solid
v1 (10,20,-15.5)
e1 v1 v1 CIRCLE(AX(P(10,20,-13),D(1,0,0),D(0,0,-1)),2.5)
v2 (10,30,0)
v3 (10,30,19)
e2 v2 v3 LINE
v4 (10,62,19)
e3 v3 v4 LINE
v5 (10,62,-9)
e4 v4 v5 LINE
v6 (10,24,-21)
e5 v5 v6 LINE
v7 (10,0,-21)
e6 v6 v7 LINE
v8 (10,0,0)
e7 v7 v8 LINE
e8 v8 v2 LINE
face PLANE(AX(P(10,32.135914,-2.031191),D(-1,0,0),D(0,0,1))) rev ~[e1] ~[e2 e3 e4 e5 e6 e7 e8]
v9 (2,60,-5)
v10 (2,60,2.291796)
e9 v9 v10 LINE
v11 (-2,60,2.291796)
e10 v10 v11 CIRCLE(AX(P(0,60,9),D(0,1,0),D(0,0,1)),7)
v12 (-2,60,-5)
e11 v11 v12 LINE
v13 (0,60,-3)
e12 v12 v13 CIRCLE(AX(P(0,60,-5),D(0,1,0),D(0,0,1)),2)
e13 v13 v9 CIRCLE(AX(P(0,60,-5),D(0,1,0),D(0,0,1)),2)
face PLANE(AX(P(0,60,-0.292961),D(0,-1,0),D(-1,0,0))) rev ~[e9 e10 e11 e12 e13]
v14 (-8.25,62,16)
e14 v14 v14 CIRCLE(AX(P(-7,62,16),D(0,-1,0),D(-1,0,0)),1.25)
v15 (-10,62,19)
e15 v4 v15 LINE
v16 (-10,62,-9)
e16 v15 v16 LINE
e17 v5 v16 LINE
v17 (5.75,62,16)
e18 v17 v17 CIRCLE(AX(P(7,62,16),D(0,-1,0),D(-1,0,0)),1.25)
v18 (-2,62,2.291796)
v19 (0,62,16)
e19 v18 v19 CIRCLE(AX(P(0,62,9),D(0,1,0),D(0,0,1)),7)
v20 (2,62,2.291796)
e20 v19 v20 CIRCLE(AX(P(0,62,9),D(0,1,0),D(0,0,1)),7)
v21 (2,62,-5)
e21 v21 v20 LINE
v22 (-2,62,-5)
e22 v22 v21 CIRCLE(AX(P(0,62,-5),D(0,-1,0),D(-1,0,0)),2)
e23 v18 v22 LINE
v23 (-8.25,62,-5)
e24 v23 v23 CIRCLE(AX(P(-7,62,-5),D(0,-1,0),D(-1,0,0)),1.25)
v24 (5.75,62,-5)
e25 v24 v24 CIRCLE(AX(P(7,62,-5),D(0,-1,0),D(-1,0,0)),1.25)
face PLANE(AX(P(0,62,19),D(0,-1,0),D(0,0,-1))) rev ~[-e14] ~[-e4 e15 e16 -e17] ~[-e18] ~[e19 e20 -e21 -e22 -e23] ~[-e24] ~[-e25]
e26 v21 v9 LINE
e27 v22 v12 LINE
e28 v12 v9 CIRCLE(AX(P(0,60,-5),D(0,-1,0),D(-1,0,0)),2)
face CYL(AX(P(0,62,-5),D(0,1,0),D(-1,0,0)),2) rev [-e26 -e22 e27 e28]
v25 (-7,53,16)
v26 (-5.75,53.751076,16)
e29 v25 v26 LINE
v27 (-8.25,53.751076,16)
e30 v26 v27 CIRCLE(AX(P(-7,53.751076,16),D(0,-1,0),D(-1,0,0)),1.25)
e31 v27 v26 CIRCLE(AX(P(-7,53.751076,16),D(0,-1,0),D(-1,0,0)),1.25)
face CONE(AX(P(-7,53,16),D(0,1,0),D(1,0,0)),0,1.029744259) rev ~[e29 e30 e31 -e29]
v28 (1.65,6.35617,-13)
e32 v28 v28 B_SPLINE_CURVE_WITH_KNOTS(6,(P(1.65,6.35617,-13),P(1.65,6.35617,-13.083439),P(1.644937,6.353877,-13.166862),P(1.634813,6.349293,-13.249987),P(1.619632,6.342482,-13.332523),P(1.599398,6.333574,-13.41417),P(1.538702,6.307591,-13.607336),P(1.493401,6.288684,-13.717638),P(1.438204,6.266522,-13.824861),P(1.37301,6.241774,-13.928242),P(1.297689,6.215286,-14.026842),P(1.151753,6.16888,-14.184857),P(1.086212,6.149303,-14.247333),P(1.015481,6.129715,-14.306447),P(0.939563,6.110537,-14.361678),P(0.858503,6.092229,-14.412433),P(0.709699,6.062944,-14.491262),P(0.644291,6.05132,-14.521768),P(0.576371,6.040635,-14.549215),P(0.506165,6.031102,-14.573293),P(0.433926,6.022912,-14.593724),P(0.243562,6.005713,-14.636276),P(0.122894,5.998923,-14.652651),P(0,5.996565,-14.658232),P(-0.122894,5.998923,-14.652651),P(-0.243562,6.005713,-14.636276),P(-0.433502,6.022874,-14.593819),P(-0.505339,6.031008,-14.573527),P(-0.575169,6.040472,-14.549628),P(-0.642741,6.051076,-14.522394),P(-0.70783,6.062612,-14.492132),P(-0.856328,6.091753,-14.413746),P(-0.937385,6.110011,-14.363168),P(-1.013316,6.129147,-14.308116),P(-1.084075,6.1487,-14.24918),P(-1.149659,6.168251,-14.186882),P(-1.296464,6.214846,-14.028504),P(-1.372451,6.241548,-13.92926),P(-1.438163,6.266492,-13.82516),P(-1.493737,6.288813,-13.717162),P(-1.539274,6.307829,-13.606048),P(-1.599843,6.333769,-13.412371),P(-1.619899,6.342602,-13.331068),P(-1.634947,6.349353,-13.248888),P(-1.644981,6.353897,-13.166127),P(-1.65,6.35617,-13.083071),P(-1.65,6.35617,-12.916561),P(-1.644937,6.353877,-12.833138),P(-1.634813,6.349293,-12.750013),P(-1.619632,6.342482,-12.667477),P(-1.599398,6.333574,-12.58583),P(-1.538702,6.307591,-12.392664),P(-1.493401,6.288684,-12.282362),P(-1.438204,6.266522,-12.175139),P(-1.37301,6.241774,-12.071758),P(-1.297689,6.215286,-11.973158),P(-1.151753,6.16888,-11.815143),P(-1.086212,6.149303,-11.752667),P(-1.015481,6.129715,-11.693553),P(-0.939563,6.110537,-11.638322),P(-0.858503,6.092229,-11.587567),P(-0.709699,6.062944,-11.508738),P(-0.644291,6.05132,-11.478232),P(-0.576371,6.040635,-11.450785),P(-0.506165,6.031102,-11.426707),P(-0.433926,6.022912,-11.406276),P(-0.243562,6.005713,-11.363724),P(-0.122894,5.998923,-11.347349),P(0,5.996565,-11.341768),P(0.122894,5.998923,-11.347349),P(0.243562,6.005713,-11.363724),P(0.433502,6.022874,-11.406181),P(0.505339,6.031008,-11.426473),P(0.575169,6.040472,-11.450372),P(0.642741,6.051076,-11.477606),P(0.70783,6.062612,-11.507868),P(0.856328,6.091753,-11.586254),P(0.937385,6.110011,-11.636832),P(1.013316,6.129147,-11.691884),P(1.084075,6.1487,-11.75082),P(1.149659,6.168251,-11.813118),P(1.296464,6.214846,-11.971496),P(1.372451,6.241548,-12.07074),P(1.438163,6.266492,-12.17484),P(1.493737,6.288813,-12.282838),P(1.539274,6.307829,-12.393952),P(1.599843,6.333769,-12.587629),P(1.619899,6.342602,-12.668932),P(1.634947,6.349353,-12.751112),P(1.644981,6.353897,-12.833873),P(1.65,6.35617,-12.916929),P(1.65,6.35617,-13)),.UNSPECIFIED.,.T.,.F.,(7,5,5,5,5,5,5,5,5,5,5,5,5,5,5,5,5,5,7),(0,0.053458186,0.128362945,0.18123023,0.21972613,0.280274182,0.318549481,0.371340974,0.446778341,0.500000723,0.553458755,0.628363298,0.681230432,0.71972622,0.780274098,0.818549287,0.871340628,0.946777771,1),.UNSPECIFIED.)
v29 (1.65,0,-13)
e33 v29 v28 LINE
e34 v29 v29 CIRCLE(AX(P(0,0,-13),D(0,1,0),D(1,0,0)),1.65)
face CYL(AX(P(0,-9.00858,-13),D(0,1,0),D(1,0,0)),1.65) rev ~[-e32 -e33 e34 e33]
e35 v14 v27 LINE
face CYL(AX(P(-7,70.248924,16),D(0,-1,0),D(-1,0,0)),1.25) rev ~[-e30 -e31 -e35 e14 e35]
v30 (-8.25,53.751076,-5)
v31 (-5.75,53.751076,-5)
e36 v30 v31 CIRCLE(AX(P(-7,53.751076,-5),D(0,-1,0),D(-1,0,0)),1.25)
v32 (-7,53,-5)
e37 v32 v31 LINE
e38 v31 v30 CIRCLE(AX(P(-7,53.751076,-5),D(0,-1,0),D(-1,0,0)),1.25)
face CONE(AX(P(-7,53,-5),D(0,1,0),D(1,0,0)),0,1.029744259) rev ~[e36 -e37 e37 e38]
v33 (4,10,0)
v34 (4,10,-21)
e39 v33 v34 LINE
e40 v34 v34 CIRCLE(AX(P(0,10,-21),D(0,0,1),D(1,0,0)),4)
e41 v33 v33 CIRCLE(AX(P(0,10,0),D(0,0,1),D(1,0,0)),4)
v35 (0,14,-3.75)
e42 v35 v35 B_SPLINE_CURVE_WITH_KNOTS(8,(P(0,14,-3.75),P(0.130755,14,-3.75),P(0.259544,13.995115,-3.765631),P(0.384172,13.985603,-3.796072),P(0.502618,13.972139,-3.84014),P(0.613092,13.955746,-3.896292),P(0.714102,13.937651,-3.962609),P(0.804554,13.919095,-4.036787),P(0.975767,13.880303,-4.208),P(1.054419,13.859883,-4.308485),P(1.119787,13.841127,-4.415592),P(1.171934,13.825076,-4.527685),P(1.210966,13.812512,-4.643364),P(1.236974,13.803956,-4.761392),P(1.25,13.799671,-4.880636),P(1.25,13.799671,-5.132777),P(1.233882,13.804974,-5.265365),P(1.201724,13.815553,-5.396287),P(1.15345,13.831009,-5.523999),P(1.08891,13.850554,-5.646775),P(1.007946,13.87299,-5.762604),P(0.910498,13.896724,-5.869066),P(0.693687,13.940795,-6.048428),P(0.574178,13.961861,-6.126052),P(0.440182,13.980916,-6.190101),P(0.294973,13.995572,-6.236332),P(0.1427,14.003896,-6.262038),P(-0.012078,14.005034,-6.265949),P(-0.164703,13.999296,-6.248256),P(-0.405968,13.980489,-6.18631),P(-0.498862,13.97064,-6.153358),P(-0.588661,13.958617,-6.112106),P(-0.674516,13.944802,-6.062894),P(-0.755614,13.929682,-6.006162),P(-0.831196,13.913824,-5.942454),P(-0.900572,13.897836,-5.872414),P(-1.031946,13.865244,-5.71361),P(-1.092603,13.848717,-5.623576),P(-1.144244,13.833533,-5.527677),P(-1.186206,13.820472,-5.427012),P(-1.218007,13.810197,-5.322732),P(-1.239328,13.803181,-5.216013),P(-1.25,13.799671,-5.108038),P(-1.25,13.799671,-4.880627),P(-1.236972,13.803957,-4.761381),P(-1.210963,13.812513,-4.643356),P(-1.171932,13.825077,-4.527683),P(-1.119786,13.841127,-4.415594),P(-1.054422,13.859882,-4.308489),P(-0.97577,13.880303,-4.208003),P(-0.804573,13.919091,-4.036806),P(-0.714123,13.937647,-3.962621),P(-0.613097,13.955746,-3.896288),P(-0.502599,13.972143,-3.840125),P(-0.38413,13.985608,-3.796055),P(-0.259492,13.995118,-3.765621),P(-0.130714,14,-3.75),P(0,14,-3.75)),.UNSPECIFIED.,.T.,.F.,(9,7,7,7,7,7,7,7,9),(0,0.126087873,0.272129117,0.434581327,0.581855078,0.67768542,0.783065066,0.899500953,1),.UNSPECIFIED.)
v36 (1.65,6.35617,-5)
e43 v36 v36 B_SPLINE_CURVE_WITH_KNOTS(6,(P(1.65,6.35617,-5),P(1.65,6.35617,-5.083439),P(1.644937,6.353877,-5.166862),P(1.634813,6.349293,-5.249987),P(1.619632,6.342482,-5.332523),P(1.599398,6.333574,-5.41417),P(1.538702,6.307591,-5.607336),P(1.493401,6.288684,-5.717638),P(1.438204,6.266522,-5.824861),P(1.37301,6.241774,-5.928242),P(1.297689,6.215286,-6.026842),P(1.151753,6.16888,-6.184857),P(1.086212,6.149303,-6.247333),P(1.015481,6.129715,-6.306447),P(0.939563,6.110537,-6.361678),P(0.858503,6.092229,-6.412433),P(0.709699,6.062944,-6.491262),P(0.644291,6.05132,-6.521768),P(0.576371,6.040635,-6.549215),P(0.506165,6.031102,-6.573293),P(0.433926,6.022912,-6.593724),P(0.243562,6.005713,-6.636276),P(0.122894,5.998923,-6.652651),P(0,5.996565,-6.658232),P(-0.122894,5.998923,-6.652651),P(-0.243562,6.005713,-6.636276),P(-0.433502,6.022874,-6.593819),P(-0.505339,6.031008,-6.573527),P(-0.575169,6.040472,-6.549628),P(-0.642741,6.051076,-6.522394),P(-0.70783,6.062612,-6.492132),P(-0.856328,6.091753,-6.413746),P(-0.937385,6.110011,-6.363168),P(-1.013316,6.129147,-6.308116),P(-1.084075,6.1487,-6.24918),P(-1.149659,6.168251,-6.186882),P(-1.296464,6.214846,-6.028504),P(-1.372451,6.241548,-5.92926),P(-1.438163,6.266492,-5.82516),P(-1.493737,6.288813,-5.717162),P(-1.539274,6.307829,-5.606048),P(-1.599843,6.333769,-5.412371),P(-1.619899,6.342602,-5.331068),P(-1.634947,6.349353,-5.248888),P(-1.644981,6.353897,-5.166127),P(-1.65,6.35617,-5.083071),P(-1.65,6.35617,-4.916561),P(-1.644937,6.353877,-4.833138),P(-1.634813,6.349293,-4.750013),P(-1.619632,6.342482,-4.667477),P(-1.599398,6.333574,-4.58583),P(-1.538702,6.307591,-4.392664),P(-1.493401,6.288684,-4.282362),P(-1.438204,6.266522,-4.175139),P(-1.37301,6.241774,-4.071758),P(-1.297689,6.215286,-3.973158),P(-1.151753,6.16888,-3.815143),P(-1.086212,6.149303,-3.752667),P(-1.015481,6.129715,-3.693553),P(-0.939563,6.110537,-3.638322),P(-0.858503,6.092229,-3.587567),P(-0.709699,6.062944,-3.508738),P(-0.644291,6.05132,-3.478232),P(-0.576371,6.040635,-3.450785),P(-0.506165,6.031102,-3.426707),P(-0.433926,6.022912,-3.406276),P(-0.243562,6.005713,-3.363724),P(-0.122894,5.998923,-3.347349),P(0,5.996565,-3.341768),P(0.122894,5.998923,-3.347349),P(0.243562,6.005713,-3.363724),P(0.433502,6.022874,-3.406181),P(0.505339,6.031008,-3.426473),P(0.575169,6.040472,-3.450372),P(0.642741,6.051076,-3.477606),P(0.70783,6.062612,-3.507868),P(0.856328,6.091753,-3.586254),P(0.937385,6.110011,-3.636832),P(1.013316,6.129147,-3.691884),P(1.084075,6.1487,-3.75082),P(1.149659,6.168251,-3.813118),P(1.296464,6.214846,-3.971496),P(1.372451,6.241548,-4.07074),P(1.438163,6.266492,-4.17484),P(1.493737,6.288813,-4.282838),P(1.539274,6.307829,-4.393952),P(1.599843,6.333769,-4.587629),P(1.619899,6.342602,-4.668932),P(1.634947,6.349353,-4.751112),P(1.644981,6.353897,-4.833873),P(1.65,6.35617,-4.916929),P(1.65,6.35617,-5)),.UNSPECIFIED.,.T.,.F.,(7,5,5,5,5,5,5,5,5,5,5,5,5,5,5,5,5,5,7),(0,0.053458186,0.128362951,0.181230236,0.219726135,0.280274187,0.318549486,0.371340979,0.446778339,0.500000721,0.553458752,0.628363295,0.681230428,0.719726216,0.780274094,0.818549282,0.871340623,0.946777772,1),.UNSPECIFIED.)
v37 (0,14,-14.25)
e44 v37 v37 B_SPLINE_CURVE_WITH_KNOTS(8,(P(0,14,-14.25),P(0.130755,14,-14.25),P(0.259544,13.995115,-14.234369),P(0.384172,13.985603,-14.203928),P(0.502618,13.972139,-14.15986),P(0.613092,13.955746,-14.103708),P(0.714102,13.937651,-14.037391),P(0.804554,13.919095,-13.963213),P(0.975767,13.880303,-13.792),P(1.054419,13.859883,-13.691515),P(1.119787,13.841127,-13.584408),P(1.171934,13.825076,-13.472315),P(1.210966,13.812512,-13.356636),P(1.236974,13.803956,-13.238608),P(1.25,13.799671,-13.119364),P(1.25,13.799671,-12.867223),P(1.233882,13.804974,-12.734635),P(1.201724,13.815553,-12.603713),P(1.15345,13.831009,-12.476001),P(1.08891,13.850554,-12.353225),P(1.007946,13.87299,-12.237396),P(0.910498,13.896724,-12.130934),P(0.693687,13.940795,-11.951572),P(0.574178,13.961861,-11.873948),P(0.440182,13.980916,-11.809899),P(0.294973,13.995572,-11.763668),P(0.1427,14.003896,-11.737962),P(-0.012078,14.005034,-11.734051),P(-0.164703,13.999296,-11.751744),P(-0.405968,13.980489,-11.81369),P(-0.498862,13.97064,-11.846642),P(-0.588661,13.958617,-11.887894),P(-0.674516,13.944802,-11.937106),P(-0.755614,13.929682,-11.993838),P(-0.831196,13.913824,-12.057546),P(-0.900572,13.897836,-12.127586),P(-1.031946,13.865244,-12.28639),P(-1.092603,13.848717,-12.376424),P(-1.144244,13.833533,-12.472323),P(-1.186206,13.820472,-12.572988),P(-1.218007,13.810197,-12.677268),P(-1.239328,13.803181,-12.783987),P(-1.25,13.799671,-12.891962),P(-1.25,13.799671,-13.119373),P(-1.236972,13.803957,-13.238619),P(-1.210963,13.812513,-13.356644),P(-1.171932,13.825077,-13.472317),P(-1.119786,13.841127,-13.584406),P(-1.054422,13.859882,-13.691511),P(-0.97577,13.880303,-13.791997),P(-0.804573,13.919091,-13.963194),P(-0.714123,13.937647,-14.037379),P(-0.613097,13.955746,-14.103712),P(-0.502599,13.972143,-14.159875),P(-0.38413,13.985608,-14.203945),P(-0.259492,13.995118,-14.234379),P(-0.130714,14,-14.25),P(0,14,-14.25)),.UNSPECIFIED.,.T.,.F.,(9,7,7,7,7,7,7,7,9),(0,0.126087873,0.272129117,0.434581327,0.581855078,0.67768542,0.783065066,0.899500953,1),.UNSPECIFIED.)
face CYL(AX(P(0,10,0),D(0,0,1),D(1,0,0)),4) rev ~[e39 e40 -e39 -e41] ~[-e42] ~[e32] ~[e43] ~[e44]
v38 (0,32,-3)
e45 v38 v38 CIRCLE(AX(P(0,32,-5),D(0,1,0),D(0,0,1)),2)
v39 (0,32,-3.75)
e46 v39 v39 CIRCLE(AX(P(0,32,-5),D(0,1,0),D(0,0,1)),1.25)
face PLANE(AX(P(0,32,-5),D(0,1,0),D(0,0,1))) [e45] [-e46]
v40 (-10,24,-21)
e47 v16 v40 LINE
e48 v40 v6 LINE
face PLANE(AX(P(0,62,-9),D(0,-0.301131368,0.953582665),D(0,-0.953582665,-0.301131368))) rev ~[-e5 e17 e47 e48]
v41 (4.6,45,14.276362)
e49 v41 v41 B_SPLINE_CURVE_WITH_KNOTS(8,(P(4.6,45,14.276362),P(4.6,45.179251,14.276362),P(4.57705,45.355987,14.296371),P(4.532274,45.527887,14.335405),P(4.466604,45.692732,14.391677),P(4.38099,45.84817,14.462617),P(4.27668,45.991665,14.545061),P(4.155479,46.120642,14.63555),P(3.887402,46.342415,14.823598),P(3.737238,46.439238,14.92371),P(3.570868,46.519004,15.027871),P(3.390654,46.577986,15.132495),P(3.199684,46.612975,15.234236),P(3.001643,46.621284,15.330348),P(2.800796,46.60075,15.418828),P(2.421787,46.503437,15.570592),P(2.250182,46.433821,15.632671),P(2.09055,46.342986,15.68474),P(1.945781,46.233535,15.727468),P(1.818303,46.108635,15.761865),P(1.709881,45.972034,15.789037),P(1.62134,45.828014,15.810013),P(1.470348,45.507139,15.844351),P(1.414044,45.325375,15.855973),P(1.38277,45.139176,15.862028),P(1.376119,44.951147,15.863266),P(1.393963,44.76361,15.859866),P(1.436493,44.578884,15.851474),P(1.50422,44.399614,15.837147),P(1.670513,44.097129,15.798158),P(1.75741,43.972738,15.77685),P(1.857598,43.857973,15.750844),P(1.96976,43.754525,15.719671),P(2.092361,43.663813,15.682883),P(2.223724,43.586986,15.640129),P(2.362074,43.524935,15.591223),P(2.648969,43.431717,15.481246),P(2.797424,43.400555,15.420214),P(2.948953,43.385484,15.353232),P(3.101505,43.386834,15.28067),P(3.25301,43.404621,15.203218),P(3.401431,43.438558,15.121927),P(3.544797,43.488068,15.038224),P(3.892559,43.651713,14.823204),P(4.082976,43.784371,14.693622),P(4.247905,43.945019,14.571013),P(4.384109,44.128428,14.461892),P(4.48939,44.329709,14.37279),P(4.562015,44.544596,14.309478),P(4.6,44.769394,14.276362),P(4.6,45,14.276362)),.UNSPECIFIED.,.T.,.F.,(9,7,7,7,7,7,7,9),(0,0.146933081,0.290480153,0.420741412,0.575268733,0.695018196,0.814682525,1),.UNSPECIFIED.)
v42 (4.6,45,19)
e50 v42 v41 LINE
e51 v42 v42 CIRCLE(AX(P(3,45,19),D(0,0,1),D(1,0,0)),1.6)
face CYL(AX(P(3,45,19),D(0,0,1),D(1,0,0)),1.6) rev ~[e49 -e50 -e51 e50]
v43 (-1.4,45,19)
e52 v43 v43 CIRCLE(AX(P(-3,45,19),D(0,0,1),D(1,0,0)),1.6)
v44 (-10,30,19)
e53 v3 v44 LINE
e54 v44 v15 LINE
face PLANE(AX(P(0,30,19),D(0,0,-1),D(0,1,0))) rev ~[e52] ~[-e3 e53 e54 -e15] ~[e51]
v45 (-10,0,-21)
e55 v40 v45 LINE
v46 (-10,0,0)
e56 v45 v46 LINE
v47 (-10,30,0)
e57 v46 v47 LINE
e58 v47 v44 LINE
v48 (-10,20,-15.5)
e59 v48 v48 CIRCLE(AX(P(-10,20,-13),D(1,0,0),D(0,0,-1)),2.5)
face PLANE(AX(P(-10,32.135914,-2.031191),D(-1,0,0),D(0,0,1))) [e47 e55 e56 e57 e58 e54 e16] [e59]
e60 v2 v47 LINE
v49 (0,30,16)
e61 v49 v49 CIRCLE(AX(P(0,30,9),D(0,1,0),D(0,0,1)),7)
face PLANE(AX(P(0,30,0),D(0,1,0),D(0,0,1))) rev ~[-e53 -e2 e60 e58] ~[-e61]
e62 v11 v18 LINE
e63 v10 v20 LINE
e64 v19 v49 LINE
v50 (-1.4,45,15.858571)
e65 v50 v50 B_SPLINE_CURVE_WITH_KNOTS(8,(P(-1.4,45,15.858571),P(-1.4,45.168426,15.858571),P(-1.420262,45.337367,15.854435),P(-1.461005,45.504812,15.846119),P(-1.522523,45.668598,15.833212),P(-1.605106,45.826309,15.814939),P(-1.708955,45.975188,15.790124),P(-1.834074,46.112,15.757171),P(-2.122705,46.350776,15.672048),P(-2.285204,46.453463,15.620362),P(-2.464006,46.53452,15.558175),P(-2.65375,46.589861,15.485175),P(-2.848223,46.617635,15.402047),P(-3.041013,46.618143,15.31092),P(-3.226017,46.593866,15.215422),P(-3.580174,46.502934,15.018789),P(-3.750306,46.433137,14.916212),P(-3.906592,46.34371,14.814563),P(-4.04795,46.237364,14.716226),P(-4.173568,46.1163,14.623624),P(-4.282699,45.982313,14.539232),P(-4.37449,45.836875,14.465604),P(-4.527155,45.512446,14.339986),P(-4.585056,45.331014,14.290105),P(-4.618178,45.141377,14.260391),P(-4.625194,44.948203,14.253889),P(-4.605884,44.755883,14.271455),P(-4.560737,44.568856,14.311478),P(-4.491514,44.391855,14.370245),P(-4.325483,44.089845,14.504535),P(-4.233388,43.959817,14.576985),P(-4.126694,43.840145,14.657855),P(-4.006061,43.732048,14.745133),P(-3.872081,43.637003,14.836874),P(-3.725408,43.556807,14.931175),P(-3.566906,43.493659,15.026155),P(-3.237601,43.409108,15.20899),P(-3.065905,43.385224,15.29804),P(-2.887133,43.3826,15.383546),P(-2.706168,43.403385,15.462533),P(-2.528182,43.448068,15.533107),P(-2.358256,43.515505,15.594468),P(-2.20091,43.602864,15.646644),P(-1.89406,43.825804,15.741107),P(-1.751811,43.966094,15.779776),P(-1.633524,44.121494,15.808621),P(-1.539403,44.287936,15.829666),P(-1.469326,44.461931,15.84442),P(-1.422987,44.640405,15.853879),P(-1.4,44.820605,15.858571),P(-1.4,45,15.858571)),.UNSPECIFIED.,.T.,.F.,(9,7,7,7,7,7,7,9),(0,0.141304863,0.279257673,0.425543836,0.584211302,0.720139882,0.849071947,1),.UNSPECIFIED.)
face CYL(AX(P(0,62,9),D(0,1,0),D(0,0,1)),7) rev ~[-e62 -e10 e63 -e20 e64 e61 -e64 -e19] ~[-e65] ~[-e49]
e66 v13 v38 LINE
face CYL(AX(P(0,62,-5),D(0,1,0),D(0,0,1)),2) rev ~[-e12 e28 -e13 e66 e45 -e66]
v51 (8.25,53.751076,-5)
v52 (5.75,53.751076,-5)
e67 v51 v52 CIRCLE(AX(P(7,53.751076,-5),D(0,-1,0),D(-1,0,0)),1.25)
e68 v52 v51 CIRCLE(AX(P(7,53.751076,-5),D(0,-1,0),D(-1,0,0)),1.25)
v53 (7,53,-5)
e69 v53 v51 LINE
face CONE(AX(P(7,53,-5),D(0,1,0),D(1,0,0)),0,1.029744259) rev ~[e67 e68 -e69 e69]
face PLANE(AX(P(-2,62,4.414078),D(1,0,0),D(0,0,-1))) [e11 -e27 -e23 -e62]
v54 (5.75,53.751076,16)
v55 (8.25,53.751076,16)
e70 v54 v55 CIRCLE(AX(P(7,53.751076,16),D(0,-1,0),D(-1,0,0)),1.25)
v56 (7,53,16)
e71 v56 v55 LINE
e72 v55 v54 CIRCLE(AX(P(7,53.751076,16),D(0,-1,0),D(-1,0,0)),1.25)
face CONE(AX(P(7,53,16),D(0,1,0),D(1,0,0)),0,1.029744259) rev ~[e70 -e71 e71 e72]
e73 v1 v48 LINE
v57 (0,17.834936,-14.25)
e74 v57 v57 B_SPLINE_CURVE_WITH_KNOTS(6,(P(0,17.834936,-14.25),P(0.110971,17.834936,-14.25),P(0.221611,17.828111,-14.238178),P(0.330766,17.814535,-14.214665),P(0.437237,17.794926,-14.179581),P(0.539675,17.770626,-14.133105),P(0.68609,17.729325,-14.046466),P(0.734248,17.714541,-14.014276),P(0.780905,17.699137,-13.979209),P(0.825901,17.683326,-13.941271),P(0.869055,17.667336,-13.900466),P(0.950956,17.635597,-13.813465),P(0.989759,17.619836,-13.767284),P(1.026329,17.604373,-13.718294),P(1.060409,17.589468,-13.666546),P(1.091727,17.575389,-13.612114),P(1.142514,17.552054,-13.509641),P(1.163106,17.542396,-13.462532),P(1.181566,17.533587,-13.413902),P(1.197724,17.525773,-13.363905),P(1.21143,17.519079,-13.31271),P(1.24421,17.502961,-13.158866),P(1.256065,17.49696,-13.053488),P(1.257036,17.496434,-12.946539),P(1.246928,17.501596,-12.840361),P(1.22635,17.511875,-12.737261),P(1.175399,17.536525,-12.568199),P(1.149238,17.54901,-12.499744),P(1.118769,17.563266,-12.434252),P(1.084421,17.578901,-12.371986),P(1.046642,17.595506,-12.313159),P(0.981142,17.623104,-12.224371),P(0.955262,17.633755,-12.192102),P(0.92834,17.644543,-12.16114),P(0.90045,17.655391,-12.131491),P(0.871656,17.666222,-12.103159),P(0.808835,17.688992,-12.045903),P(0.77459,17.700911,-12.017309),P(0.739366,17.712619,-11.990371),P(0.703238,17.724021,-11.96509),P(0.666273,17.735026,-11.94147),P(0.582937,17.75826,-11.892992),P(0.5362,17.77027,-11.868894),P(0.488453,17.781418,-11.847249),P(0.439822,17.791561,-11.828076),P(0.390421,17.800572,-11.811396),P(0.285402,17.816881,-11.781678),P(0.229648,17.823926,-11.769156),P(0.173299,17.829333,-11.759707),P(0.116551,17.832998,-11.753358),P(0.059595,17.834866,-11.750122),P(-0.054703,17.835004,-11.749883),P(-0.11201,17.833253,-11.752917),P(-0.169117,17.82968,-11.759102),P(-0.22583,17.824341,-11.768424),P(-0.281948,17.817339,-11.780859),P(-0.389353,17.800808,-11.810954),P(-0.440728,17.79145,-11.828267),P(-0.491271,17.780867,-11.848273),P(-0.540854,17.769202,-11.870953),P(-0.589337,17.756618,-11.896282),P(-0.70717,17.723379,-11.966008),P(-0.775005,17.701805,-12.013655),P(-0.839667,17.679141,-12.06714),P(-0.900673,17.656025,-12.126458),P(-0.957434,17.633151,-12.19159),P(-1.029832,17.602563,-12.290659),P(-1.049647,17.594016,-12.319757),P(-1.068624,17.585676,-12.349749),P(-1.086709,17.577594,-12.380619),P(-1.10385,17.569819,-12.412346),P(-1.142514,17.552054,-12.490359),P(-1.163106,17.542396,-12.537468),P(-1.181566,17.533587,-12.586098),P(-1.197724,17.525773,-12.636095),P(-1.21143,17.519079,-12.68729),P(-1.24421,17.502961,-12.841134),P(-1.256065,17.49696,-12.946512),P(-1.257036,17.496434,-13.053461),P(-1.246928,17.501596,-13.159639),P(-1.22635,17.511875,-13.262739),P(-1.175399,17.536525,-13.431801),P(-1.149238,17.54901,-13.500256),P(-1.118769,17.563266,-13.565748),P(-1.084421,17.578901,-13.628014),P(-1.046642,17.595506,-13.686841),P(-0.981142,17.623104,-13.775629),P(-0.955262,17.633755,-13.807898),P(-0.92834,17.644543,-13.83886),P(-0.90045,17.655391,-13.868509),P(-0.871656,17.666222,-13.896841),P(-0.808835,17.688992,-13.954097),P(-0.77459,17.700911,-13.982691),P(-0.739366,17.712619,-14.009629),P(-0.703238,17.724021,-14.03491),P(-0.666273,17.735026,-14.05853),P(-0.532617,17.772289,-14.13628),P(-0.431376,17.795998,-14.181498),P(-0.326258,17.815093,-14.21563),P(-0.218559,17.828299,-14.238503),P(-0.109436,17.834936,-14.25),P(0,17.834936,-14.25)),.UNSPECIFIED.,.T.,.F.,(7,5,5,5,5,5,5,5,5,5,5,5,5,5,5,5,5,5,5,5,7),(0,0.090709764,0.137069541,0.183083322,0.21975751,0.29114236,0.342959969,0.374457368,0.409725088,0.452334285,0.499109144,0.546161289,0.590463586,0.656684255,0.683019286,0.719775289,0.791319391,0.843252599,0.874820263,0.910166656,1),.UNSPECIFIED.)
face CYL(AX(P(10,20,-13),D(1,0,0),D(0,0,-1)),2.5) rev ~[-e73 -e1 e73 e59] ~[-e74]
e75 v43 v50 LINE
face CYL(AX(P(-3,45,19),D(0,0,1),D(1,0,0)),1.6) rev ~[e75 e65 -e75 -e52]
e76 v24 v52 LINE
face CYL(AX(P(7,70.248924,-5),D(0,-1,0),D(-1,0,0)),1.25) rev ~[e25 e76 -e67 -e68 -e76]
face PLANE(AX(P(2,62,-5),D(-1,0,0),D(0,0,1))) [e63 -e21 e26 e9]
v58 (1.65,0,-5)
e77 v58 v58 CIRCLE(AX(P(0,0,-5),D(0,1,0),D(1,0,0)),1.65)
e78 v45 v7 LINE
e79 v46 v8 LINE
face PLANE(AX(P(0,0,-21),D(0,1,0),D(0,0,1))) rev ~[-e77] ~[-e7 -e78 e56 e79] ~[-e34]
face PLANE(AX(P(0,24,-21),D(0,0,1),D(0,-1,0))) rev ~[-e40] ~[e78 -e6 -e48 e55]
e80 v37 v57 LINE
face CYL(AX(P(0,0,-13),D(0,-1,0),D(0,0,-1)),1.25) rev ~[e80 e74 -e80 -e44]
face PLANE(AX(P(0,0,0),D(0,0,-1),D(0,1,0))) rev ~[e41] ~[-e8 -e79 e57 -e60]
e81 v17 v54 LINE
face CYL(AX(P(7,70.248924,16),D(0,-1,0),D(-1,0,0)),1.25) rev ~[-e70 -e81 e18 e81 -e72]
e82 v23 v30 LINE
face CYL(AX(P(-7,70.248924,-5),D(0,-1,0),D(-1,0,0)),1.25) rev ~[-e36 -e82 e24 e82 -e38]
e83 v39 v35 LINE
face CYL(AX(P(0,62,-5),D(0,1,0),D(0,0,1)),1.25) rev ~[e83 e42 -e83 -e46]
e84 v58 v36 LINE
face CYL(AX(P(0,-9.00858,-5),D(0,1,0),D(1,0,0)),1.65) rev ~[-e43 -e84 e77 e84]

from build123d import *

# Parameters (mm, degrees)
BOSS_EXTRUDE1_DEPTH     = 10
SKETCH2_R               = 7
CUT_EXTRUDE1_DEPTH      = 67.219332525
M3_TAPPED_HOLE1_D       = 2.5
M3_TAPPED_HOLE1_DEPTH   = 8.248924226
M3_TAPPED_HOLE1_TIP     = 0.751075774
CUT_EXTRUDE2_DEPTH      = 2
SKETCH7_R               = 2
CUT_EXTRUDE3_DEPTH      = 30
SKETCH8_R               = 1.25
CUT_EXTRUDE4_DEPTH      = 49
CUT_EXTRUDE5_REACH      = 76.458
CUT_EXTRUDE5_END_RADIUS = 7
SKETCH9_R               = 1.6
SKETCH10_R              = 2.5
CUT_EXTRUDE6_DEPTH      = 69.447059925
CUT_EXTRUDE7_REACH      = 68.219
CUT_EXTRUDE7_END_RADIUS = 2.5
SKETCH11_R              = 1.25
CUT_EXTRUDE8_REACH      = 68.219
SKETCH12_R              = 4
M4_TAPPED_HOLE1_D       = 3.3
M4_TAPPED_HOLE1_DEPTH   = 9.008579979
M4_TAPPED_HOLE1_TIP     = 0.991420021


with BuildPart() as part:
    # Sketch1 → Boss-Extrude1 (new, symmetric)
    with BuildSketch(Plane(origin=(0, 0, 0), x_dir=(0, 0, -1), z_dir=(1, 0, 0))):
        Polygon((0, 0), (0, 30), (-19, 30), (-19, 62), (9, 62), (21, 24), (21, 0), align=None)
    extrude(amount=BOSS_EXTRUDE1_DEPTH, both=True)

    # Sketch2 → Cut-Extrude1 (cut, through all)
    with BuildSketch(Plane(origin=(0, 62, 0), x_dir=(1, 0, 0), z_dir=(0, 1, 0))):
        with Locations(Location((0, -9, 0), (0, 0, 270))):
            Circle(SKETCH2_R)
    extrude(amount=-CUT_EXTRUDE1_DEPTH, mode=Mode.SUBTRACT)

    # M3 Tapped Hole1
    with Locations(Plane(origin=(0, 62, 0), x_dir=(1, 0, 0), z_dir=(0, 1, 0))):
        with Locations((-7, -16), (7, -16), (7, 5), (-7, 5)):
            Hole(M3_TAPPED_HOLE1_D / 2, depth=M3_TAPPED_HOLE1_DEPTH)
            with Locations((0, 0, -(M3_TAPPED_HOLE1_DEPTH + M3_TAPPED_HOLE1_TIP / 2))):  # 118° drill point
                Cone(0, M3_TAPPED_HOLE1_D / 2, M3_TAPPED_HOLE1_TIP, mode=Mode.SUBTRACT)

    # Sketch6 → Cut-Extrude2 (cut)
    with BuildSketch(Plane(origin=(0, 62, 0), x_dir=(1, 0, 0), z_dir=(0, 1, 0))):
        with BuildLine():
            Line((2, 5), (2, -4.41407825))
            ThreePointArc((2, -4.41407825), (0, -6.41407825), (-2, -4.41407825))
            Line((-2, -4.41407825), (-2, 5))
            ThreePointArc((-2, 5), (0, 7), (2, 5))
        make_face()
    extrude(amount=-CUT_EXTRUDE2_DEPTH, mode=Mode.SUBTRACT)

    # Sketch7 → Cut-Extrude3 (cut)
    with BuildSketch(Plane(origin=(0, 62, 0), x_dir=(1, 0, 0), z_dir=(0, 1, 0))):
        with Locations(Location((0, 5, 0), (0, 0, 270))):
            Circle(SKETCH7_R)
    extrude(amount=-CUT_EXTRUDE3_DEPTH, mode=Mode.SUBTRACT)

    # Sketch8 → Cut-Extrude4 (cut)
    with BuildSketch(Plane(origin=(0, 62, 0), x_dir=(1, 0, 0), z_dir=(0, 1, 0))):
        with Locations(Location((0, 5, 0), (0, 0, 270))):
            Circle(SKETCH8_R)
    extrude(amount=-CUT_EXTRUDE4_DEPTH, mode=Mode.SUBTRACT)

    # Cut-Extrude5: up to this cylinder (the profile starts outside it)
    cut_extrude5_end = Plane(origin=(0, 45, 9), z_dir=(0, 1, 0)) * Cylinder(CUT_EXTRUDE5_END_RADIUS, 167.916, mode=Mode.PRIVATE)
    # Sketch9 → Cut-Extrude5 (cut, up to the surface)
    with BuildSketch(Plane.XY.offset(19), mode=Mode.PRIVATE) as cut_extrude5_sk1:
        with Locations((-3, 45)):
            Circle(SKETCH9_R)
    cut_extrude5_tool1 = extrude(cut_extrude5_sk1.sketch, amount=-CUT_EXTRUDE5_REACH, mode=Mode.PRIVATE) - cut_extrude5_end
    add(cut_extrude5_tool1.solids().sort_by_distance((-3, 45, 19))[0], mode=Mode.SUBTRACT)
    # Sketch9 → Cut-Extrude5 (cut, up to the surface)
    with BuildSketch(Plane.XY.offset(19), mode=Mode.PRIVATE) as cut_extrude5_sk2:
        with Locations((3, 45)):
            Circle(SKETCH9_R)
    cut_extrude5_tool2 = extrude(cut_extrude5_sk2.sketch, amount=-CUT_EXTRUDE5_REACH, mode=Mode.PRIVATE) - cut_extrude5_end
    add(cut_extrude5_tool2.solids().sort_by_distance((3, 45, 19))[0], mode=Mode.SUBTRACT)

    # Sketch10 → Cut-Extrude6 (cut, through all)
    with BuildSketch(Plane(origin=(10, 0, 0), x_dir=(0, 0, -1), z_dir=(1, 0, 0))):
        with Locations((13, 20)):
            Circle(SKETCH10_R)
    extrude(amount=-CUT_EXTRUDE6_DEPTH, mode=Mode.SUBTRACT)

    # Cut-Extrude7: up to this cylinder (the profile starts outside it)
    cut_extrude7_end = Plane(origin=(0, 20, -13), z_dir=(1, 0, 0)) * Cylinder(CUT_EXTRUDE7_END_RADIUS, 142.438, mode=Mode.PRIVATE)
    # Sketch11 → Cut-Extrude7 (cut, up to the surface)
    with BuildSketch(Plane.XZ, mode=Mode.PRIVATE) as cut_extrude7_sk1:
        with Locations(Location((0, -13, 0), (0, 0, 270))):
            Circle(SKETCH11_R)
    cut_extrude7_tool1 = extrude(cut_extrude7_sk1.sketch, amount=-CUT_EXTRUDE7_REACH, mode=Mode.PRIVATE) - cut_extrude7_end
    add(cut_extrude7_tool1.solids().sort_by_distance((0, 0, -13))[0], mode=Mode.SUBTRACT)

    # Sketch12 → Cut-Extrude8 (cut, up to next)
    with BuildSketch(Plane.XY, mode=Mode.PRIVATE) as cut_extrude8_sk1:
        with Locations((0, 10)):
            Circle(SKETCH12_R)
    cut_extrude8_tool1 = extrude(cut_extrude8_sk1.sketch, amount=-CUT_EXTRUDE8_REACH, mode=Mode.PRIVATE) & part.part
    add(cut_extrude8_tool1.solids().sort_by_distance((0, 10, 0))[0], mode=Mode.SUBTRACT)

    # M4 Tapped Hole1
    with Locations(Plane(origin=(0, 0, 0), x_dir=(-1, 0, 0), z_dir=(0, -1, 0))):
        with Locations((0, 13), (0, 5)):
            Hole(M4_TAPPED_HOLE1_D / 2, depth=M4_TAPPED_HOLE1_DEPTH)
            with Locations((0, 0, -(M4_TAPPED_HOLE1_DEPTH + M4_TAPPED_HOLE1_TIP / 2))):  # 118° drill point
                Cone(0, M4_TAPPED_HOLE1_D / 2, M4_TAPPED_HOLE1_TIP, mode=Mode.SUBTRACT)


solid = part.part
